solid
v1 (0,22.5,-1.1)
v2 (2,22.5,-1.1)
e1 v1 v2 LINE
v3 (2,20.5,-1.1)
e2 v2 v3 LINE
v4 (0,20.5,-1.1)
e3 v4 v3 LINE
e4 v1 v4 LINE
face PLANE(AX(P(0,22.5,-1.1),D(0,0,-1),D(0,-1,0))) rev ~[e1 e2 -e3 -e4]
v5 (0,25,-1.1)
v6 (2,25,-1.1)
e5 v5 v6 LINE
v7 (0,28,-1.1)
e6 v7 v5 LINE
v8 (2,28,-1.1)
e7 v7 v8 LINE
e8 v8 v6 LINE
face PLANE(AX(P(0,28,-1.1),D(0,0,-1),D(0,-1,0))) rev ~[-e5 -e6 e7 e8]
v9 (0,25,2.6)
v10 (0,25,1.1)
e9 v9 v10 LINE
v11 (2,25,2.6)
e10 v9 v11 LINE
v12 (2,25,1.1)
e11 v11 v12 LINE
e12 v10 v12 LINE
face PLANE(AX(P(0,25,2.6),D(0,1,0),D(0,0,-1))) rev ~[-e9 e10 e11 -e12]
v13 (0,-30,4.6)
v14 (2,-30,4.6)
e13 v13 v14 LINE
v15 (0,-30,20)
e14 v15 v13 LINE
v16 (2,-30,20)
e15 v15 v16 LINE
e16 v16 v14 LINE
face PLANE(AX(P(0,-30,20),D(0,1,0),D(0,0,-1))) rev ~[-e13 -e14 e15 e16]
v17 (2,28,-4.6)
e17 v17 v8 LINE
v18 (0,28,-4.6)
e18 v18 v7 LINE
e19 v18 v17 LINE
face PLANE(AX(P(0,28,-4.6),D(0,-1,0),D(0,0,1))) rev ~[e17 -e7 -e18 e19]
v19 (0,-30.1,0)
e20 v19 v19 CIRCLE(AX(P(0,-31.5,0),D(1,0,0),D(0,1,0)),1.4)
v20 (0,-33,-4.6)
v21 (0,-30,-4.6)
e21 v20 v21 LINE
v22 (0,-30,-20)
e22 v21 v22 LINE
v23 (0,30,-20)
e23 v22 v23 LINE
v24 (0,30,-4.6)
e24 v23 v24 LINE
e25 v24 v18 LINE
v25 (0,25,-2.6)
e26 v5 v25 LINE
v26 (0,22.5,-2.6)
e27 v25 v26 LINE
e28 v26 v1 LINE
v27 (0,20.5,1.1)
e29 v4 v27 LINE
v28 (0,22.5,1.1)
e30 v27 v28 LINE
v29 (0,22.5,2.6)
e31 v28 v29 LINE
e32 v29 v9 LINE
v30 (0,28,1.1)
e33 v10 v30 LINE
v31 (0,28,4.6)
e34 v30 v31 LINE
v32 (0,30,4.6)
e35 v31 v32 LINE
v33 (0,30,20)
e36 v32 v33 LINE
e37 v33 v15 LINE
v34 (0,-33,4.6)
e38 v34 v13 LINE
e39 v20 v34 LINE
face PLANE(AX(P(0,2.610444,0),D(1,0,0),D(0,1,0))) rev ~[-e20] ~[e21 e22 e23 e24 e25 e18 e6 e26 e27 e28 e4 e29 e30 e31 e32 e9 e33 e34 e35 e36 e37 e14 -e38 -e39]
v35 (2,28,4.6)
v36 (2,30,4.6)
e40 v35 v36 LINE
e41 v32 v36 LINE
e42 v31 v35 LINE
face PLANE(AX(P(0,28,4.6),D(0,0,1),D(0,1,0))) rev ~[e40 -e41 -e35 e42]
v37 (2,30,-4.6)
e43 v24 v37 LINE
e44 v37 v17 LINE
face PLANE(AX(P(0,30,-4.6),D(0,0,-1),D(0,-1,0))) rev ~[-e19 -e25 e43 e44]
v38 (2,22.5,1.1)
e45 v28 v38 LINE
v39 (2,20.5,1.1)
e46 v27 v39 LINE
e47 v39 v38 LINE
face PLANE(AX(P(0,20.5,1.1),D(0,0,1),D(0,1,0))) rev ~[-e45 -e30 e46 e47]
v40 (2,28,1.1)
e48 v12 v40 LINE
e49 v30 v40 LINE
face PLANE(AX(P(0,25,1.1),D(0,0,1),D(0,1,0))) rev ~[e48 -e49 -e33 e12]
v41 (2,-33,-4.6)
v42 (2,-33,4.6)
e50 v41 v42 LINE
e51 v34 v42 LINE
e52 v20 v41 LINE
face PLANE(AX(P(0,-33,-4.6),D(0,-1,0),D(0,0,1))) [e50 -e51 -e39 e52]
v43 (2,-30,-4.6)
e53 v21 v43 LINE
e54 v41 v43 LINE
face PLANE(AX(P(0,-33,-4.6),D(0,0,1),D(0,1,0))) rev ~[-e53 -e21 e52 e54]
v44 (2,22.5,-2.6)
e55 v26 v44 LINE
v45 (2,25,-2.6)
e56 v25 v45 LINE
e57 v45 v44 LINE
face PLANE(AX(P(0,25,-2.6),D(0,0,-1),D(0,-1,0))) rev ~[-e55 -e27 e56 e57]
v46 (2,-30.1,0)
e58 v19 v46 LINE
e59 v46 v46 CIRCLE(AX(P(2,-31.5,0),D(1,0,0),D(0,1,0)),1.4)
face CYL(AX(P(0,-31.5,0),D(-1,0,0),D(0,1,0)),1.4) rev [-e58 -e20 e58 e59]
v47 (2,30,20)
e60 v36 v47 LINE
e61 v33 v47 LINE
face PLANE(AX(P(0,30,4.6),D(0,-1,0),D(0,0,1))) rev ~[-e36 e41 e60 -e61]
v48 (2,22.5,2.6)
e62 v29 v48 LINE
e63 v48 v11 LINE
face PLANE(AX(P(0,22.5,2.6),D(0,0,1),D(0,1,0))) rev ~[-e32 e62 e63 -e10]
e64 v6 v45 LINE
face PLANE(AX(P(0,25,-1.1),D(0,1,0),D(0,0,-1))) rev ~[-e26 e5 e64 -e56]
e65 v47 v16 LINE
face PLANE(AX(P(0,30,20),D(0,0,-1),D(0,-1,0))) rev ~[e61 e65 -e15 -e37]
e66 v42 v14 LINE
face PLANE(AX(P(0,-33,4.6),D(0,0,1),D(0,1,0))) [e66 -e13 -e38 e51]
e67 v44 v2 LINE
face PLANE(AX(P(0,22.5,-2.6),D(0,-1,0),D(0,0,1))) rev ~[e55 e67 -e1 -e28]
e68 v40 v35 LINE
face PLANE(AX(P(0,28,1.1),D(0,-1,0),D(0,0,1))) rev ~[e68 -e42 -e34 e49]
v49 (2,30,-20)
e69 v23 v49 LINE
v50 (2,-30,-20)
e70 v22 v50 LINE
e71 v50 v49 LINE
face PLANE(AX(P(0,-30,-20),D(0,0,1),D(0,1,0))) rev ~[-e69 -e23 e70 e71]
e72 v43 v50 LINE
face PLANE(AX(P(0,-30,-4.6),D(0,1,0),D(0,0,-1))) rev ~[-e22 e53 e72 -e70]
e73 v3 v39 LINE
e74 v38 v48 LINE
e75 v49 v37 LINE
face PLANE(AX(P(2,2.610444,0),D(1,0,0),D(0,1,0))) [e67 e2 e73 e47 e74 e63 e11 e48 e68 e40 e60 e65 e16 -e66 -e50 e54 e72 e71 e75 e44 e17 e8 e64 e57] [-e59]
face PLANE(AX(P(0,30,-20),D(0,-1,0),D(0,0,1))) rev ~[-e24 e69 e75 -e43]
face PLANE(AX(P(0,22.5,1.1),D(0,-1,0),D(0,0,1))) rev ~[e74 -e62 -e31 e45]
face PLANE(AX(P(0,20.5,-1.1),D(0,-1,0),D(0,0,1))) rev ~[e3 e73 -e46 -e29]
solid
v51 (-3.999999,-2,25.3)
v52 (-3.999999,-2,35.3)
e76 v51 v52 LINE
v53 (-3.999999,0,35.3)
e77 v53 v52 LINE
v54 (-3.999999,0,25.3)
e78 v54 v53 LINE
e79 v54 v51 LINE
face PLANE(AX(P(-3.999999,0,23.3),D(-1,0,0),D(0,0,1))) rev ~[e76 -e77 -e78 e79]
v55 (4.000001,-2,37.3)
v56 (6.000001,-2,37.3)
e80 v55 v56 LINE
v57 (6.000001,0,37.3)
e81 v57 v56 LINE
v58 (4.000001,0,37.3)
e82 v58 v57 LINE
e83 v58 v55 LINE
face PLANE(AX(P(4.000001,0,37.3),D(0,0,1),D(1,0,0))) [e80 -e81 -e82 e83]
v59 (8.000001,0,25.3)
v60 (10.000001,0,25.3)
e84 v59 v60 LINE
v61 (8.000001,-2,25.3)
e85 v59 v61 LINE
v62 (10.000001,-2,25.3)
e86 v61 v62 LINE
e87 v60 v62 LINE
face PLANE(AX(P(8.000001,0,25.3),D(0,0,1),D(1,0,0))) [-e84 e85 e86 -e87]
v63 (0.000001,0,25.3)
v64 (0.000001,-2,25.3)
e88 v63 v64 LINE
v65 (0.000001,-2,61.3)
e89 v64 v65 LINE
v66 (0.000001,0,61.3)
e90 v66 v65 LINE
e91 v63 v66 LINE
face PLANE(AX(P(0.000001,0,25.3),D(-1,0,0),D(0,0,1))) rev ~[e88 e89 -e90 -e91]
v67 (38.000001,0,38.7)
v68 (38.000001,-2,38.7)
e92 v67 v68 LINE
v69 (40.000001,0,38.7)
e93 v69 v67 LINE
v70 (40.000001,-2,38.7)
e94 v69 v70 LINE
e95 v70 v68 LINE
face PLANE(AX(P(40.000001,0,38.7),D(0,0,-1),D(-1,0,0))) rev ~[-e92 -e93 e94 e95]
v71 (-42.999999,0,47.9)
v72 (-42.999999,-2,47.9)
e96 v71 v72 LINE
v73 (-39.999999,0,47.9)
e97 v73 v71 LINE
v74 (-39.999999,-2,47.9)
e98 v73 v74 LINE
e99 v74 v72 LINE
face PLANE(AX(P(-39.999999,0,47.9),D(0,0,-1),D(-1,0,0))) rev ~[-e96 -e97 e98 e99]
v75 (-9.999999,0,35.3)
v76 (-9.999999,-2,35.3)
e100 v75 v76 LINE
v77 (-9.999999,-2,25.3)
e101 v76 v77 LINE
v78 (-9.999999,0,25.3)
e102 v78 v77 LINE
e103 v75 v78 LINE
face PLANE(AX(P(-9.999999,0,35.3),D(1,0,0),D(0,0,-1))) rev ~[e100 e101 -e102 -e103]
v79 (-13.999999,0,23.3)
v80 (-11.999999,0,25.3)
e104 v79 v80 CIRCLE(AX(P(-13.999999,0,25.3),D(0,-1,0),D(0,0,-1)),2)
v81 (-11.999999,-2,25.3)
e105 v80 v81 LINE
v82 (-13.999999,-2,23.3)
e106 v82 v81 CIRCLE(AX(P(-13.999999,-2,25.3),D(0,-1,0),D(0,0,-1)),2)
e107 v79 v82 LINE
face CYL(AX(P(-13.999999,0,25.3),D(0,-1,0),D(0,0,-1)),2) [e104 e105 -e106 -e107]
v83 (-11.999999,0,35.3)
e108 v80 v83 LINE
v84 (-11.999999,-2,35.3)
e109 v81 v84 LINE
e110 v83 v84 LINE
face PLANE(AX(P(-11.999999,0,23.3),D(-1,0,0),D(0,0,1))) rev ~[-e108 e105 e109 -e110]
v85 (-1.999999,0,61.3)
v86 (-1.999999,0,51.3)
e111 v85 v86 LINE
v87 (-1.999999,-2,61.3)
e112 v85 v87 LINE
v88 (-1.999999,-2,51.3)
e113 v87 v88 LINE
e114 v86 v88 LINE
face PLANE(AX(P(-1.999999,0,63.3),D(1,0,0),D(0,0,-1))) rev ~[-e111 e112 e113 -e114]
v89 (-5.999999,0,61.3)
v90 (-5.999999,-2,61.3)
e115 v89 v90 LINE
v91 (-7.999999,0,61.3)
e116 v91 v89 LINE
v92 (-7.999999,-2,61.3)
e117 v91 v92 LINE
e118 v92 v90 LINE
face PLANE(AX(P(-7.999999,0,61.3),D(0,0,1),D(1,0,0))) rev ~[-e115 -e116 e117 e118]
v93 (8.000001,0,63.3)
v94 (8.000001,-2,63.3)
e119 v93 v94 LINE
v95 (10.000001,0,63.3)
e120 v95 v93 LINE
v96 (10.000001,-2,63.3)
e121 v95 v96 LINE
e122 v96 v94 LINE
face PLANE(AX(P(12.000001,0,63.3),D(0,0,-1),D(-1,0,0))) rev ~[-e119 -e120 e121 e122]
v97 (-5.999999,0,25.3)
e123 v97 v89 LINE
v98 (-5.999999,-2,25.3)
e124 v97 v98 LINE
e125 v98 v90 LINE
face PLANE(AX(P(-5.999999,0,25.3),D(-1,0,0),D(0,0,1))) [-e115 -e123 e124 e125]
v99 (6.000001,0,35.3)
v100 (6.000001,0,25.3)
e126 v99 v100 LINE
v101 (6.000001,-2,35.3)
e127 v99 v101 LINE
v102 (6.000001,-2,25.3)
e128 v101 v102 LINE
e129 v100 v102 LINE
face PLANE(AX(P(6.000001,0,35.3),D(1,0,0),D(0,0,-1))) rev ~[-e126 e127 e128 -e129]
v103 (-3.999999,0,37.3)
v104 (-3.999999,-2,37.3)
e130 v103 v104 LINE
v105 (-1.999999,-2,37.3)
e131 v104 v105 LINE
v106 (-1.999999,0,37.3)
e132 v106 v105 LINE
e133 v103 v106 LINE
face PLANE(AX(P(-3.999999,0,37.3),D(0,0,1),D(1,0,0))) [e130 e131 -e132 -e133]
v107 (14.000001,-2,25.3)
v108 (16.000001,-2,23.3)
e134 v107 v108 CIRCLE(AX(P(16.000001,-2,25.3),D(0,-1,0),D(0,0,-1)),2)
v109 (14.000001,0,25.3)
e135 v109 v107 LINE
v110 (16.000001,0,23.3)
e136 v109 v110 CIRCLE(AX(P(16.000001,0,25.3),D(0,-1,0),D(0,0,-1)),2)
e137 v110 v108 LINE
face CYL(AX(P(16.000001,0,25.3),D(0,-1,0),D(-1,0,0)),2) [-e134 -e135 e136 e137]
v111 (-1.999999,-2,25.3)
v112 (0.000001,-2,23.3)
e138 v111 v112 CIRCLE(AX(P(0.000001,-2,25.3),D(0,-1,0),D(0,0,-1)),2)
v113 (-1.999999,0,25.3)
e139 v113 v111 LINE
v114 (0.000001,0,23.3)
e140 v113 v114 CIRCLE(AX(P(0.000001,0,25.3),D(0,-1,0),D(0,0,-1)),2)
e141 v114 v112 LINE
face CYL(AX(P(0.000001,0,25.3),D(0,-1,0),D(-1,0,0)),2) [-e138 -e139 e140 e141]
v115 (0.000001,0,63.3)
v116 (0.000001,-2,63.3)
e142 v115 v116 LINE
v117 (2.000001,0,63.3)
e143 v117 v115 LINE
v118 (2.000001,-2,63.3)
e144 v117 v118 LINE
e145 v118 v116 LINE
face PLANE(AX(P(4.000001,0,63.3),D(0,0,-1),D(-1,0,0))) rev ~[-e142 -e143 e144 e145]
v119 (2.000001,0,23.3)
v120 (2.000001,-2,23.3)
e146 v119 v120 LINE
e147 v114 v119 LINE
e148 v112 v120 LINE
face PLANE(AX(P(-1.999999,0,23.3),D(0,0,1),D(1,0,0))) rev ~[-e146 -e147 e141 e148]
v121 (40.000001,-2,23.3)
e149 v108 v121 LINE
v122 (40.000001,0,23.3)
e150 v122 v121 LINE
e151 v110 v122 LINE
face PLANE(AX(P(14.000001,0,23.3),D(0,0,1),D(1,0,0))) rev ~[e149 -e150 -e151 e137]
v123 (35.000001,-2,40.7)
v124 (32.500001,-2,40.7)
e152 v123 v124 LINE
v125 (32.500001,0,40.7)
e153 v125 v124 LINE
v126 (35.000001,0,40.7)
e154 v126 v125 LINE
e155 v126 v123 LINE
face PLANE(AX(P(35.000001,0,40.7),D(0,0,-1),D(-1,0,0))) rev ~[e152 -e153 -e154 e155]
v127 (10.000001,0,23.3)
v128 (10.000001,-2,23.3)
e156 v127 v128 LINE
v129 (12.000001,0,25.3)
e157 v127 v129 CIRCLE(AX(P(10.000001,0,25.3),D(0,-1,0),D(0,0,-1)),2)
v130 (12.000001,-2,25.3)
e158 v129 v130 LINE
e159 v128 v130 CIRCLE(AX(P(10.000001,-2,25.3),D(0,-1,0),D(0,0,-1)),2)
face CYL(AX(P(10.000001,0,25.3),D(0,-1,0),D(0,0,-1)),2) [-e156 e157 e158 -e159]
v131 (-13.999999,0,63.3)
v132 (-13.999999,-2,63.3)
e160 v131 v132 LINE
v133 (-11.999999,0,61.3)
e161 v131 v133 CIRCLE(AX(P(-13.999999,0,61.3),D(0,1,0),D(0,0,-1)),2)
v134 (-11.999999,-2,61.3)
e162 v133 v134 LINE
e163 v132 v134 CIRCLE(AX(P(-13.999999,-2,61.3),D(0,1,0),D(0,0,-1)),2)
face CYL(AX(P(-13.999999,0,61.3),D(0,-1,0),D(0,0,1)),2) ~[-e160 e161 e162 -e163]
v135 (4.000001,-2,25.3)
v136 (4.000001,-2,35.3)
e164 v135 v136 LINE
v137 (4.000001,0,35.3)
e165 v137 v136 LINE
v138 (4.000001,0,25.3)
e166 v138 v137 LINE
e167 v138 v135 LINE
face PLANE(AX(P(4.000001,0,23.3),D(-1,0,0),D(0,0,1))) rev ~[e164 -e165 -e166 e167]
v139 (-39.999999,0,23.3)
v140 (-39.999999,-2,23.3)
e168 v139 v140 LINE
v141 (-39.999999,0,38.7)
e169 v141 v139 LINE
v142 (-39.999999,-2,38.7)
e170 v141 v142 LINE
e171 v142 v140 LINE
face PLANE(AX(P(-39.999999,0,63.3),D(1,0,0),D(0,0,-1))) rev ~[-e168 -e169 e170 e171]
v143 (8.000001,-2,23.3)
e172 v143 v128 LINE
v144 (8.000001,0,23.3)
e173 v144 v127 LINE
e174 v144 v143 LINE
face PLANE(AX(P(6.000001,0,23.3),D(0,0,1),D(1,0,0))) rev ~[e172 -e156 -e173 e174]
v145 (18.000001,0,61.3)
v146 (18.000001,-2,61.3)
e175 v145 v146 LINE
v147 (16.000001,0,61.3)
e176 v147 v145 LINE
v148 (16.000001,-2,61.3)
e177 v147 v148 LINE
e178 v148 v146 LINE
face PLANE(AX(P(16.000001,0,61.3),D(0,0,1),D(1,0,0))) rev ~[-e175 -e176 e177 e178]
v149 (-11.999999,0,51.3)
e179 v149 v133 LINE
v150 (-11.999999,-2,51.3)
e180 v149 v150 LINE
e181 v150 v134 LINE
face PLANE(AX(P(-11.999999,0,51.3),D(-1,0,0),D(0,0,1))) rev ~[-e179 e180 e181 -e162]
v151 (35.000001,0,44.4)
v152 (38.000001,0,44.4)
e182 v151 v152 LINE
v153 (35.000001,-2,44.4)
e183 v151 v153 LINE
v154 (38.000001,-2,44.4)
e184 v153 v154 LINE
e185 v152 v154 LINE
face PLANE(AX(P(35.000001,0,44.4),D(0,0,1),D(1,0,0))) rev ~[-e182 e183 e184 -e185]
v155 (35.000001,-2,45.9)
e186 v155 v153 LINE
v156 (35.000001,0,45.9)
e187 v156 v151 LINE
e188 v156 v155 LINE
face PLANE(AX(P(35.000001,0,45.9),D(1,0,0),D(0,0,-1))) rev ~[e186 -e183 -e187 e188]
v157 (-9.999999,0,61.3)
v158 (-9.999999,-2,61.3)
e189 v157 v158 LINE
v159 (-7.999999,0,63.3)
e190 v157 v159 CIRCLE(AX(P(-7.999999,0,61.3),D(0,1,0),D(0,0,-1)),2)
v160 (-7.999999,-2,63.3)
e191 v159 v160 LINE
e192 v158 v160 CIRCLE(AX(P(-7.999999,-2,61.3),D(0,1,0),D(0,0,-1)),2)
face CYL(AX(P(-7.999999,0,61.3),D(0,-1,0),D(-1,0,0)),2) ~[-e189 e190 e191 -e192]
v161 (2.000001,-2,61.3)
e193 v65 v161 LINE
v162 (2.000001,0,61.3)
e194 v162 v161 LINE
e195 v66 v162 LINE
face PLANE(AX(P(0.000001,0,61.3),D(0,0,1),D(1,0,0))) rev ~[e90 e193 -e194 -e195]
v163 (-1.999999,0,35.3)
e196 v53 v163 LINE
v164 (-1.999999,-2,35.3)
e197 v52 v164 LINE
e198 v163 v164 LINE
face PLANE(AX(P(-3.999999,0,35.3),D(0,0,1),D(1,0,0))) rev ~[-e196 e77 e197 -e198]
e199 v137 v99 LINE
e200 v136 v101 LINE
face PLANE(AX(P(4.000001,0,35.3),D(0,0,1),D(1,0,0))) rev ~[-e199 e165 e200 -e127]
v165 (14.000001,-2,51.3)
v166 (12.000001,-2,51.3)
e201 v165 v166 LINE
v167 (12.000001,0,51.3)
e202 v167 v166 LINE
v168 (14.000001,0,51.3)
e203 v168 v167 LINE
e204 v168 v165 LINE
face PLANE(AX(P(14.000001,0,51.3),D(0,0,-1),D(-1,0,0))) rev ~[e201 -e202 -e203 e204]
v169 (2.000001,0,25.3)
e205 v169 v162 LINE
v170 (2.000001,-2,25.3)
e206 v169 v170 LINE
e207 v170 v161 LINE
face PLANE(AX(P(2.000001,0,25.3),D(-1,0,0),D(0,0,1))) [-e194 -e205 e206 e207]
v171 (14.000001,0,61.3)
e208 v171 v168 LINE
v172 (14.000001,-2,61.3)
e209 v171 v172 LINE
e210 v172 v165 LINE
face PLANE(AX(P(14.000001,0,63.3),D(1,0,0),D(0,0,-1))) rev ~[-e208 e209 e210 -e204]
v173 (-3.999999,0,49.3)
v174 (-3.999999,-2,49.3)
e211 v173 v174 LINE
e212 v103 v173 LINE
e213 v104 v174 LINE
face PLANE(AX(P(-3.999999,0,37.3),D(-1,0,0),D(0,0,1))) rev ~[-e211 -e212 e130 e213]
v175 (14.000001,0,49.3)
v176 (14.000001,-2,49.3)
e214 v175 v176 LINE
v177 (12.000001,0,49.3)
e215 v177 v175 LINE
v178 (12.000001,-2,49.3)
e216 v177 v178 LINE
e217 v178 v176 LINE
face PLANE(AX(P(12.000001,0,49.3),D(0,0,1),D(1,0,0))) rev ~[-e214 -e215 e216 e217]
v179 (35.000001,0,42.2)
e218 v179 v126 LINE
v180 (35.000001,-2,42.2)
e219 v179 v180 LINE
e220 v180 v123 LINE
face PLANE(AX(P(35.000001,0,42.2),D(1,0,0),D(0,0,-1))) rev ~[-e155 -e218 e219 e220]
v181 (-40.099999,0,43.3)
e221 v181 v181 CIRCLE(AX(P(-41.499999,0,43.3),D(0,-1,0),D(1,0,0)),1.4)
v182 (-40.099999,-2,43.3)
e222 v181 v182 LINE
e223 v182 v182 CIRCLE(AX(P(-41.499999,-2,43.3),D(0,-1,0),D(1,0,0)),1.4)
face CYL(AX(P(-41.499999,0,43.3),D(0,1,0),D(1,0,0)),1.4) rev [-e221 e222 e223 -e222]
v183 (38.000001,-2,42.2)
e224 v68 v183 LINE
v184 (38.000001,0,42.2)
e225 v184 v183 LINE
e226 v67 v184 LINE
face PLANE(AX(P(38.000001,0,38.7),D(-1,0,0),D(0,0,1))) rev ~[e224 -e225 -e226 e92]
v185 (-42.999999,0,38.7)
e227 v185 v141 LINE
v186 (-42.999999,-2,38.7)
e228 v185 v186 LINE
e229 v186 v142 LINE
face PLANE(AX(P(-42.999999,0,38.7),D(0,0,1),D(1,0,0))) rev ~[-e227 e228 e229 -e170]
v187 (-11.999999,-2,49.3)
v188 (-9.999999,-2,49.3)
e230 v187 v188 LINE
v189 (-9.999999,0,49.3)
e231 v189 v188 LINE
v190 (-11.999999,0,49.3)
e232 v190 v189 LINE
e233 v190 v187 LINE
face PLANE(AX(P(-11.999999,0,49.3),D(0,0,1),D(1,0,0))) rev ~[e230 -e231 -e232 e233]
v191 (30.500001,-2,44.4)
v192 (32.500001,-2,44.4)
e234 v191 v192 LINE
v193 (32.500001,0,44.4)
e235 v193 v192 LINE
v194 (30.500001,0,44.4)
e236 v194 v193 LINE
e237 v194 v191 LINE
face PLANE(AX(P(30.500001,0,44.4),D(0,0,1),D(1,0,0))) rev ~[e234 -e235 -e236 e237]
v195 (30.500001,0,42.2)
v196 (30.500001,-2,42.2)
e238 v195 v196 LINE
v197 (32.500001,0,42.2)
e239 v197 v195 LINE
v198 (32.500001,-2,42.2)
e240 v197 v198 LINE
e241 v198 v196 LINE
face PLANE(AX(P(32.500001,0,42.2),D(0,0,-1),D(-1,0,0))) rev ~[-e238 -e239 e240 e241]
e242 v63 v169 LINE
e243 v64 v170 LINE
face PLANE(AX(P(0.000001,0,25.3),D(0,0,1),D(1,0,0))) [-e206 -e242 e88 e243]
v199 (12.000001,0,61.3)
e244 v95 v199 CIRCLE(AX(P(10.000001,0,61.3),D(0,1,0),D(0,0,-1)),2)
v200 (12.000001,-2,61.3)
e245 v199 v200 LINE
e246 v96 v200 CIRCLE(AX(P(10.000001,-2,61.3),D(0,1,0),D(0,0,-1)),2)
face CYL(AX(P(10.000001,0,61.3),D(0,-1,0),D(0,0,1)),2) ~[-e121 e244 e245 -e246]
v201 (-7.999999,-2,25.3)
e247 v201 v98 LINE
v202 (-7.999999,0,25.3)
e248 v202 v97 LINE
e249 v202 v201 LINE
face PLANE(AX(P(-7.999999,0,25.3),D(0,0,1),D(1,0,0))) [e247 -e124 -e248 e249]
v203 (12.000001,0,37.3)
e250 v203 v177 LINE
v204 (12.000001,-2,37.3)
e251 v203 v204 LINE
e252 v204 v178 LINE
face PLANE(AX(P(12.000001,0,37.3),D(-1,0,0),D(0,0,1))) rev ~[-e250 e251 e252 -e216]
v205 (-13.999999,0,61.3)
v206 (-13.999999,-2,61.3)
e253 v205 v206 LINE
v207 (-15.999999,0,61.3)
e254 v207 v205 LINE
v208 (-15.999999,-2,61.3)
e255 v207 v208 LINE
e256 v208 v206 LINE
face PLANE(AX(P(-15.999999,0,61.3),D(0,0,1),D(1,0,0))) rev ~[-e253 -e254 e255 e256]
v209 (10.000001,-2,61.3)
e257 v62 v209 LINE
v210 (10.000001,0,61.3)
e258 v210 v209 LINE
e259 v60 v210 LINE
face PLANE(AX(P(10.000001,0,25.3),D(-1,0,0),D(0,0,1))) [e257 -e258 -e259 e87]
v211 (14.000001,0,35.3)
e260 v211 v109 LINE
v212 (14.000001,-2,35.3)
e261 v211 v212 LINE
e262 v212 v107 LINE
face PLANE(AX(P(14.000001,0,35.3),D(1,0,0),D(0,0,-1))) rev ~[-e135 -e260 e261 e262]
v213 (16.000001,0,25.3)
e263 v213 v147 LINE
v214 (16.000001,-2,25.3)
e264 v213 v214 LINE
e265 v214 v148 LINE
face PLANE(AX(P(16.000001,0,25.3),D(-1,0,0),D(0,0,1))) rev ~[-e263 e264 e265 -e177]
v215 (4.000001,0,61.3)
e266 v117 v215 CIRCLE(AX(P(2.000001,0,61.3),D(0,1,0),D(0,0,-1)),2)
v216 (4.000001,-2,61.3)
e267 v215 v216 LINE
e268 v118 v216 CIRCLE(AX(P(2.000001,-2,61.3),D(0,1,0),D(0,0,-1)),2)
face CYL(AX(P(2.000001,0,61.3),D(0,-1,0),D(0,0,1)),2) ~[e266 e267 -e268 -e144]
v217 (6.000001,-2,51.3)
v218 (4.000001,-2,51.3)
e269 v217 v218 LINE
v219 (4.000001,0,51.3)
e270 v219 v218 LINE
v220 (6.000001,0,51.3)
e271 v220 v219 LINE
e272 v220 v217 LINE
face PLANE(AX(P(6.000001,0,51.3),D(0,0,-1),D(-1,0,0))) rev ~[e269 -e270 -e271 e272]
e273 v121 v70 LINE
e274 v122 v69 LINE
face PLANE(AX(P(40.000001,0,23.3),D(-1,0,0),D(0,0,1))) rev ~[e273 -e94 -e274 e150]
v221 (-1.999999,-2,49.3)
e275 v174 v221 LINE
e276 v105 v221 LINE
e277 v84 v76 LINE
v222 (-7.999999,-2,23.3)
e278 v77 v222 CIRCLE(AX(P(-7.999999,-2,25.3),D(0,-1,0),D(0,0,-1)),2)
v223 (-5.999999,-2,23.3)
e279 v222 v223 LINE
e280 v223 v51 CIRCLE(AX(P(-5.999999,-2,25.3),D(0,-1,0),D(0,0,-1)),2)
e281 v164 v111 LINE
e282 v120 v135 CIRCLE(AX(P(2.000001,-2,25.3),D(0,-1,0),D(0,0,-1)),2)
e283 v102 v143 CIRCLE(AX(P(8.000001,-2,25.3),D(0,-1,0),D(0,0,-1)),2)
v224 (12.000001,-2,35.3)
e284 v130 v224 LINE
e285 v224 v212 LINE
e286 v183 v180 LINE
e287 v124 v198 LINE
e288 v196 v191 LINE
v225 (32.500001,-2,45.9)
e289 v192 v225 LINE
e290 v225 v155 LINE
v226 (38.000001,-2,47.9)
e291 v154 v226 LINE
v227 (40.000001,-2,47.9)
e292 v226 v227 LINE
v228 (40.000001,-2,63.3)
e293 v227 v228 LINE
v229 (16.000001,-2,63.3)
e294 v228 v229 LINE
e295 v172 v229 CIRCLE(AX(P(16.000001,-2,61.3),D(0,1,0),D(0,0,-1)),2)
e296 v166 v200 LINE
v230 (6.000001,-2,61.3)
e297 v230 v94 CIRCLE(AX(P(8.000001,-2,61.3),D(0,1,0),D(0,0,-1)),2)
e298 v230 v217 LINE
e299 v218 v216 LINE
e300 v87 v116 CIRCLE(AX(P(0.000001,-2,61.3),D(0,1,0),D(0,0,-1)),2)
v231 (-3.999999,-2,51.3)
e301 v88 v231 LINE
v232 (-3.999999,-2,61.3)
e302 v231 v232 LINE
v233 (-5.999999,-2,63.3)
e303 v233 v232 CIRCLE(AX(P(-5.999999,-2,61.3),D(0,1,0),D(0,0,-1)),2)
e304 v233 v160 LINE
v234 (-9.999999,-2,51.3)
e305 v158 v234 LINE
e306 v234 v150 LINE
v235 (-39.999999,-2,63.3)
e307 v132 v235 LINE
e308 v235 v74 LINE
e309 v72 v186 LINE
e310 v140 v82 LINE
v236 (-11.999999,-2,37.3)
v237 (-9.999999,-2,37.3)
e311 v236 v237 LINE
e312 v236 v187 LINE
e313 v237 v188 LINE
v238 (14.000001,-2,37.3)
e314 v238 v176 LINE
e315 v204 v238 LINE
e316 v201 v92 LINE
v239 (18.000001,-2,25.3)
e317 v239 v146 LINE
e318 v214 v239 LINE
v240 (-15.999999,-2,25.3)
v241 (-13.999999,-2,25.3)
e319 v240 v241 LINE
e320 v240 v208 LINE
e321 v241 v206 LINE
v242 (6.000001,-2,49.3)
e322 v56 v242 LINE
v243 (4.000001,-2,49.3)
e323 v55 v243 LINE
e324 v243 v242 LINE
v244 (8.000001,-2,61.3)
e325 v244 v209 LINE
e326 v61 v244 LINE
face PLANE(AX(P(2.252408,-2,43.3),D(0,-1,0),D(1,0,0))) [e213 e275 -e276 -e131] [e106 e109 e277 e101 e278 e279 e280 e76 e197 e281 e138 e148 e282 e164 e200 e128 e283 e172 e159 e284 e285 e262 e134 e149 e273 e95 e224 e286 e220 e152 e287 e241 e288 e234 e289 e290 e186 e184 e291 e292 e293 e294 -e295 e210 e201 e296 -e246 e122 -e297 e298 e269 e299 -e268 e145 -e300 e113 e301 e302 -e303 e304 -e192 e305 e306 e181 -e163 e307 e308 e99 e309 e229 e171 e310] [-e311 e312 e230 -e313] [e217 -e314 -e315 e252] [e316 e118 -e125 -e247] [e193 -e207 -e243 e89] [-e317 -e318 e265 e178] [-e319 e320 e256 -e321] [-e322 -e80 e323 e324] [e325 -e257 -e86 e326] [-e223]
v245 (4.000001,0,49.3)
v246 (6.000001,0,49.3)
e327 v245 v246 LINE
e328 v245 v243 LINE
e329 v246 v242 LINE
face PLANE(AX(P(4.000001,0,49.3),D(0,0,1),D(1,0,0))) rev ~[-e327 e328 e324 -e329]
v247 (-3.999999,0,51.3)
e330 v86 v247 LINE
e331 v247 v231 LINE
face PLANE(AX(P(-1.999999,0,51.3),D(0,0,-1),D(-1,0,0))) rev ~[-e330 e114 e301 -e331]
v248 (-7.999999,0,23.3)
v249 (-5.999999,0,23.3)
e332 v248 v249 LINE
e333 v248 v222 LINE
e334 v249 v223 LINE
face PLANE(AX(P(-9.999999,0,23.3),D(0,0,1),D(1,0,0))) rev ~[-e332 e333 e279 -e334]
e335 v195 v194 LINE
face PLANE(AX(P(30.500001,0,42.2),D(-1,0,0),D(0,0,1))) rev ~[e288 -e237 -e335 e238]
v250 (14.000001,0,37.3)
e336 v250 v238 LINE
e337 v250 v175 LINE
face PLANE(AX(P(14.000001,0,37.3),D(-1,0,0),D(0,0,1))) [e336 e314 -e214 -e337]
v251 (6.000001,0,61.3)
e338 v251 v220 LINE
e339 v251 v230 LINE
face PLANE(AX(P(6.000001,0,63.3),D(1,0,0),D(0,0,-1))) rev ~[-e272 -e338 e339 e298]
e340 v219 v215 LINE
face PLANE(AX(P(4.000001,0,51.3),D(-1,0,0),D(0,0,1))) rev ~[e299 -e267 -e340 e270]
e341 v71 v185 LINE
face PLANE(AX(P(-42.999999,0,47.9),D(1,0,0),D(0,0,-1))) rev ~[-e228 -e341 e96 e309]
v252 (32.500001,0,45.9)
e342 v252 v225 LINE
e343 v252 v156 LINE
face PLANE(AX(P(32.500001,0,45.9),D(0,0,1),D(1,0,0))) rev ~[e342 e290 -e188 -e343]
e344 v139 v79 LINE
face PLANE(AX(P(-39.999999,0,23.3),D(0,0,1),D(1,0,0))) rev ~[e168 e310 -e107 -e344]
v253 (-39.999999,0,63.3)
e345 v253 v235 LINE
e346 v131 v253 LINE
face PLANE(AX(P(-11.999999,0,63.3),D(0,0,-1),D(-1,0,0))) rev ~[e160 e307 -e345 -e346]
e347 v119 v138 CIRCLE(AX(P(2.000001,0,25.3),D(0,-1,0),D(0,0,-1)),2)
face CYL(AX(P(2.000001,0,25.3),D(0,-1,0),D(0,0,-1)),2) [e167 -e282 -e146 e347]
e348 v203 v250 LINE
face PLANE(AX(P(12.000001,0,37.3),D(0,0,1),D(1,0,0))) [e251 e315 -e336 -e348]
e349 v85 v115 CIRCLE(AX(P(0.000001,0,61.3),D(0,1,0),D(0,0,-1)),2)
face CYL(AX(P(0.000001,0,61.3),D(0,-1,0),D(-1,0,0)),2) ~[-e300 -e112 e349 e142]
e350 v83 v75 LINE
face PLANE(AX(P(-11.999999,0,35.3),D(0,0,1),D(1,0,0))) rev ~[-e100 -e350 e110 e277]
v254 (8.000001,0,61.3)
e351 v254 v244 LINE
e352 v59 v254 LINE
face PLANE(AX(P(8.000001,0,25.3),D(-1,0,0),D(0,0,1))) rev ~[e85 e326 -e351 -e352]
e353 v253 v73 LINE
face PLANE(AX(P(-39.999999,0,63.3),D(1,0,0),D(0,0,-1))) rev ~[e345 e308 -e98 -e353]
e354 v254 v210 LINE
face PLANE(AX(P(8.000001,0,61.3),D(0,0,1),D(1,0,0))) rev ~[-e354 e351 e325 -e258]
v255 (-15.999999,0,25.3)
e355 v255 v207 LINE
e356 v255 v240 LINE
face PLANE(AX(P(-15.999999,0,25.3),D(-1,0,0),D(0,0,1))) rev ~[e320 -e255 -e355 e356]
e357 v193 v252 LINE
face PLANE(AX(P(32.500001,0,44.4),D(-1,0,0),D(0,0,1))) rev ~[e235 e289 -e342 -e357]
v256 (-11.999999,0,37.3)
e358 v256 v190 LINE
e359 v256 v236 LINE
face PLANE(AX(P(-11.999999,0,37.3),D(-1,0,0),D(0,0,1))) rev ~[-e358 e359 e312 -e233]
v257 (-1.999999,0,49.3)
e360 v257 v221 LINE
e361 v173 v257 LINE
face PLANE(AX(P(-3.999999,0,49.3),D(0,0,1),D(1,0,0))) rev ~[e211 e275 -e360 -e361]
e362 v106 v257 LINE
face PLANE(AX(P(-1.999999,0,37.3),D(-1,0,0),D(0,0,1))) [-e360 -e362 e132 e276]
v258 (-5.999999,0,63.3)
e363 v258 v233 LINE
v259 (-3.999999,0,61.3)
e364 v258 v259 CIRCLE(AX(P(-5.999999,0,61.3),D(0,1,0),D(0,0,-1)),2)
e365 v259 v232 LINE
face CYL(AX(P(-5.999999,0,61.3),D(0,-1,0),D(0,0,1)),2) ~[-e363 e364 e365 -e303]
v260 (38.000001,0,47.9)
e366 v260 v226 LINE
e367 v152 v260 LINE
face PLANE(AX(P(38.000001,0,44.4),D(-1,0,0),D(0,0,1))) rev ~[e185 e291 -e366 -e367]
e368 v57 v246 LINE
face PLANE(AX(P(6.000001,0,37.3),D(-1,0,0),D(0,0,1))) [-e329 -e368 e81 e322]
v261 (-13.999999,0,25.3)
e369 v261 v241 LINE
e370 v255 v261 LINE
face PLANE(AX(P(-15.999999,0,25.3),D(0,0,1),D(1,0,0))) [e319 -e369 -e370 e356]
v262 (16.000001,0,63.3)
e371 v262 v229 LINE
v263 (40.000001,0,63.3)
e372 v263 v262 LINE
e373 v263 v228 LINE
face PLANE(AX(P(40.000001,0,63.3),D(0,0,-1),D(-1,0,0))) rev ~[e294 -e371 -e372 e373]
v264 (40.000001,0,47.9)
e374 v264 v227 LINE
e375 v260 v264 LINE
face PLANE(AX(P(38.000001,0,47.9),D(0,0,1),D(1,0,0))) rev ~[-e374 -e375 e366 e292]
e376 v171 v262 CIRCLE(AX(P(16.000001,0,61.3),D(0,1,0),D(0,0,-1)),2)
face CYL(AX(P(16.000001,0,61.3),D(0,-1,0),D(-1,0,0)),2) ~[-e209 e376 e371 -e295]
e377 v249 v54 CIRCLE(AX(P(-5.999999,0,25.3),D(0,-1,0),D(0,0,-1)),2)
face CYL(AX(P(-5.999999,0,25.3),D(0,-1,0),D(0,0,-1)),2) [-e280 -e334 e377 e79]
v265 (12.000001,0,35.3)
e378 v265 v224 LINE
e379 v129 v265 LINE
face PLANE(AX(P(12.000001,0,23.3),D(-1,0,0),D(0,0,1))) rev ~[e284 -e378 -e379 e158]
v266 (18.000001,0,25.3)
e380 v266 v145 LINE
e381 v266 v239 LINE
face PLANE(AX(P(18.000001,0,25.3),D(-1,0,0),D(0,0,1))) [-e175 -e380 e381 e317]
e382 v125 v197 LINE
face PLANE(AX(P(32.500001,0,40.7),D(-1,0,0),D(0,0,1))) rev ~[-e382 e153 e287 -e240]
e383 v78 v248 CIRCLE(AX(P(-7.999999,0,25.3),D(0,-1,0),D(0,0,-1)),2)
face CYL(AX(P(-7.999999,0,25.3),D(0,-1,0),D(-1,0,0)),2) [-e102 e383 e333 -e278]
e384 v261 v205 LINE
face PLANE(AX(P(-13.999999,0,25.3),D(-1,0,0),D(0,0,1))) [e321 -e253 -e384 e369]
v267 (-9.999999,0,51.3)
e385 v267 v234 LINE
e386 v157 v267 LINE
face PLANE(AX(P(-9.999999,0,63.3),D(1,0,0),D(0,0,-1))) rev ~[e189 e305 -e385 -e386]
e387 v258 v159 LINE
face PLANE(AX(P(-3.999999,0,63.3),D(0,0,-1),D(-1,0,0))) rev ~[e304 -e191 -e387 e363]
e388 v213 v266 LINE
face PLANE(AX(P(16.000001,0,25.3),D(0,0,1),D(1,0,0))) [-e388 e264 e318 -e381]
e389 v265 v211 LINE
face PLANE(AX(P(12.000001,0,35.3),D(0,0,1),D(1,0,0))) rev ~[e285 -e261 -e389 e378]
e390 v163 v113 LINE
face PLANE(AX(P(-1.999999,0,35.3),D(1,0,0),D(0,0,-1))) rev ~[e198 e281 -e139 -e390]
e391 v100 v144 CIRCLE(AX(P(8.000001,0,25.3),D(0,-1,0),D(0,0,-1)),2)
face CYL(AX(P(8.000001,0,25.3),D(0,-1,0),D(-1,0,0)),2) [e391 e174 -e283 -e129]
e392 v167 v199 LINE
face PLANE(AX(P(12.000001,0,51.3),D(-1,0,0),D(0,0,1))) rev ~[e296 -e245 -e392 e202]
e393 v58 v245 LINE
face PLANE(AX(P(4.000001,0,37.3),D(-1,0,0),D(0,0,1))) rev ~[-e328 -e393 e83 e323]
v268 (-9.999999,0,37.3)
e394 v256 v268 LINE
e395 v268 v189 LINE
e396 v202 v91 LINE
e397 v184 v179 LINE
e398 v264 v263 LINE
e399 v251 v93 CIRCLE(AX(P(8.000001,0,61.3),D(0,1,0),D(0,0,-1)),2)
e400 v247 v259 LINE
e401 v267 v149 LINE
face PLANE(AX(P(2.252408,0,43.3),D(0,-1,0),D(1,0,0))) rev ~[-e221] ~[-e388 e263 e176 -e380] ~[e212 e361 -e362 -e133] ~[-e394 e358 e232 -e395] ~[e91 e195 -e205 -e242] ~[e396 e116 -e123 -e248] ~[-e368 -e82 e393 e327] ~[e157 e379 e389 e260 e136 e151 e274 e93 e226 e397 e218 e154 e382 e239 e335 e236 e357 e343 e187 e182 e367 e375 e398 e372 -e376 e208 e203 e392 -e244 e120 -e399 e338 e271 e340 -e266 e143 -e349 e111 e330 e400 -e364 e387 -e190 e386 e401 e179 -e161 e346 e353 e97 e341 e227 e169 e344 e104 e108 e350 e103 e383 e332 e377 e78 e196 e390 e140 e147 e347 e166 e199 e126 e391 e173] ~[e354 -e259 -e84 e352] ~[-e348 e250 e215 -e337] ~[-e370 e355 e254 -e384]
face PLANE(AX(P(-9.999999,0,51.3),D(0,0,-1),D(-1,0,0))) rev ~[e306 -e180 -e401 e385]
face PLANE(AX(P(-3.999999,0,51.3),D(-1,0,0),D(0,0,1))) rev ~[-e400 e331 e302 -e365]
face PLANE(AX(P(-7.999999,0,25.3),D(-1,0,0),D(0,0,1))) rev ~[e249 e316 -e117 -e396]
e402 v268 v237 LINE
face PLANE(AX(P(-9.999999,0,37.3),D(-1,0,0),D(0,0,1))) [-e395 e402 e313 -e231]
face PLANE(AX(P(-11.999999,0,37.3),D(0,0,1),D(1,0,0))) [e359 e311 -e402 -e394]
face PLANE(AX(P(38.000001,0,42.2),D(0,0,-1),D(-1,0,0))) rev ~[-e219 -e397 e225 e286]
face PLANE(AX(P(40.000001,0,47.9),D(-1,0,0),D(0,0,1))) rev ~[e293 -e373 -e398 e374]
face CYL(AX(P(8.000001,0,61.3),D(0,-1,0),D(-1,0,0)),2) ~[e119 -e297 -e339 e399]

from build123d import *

# Parameters (mm, degrees)
F0_W     = 2
F0_H     = 36
F0_H_2   = 12
F1_DEPTH = 2
F2_W     = 3
F2_H     = 9.2
F2_R     = 1.4
F3_DEPTH = 2
F0_R     = 1.4
F4_DEPTH = 2
F5_R     = 2


with BuildPart() as f1:
    # F0 (on Front) → F1 (new body)
    with BuildSketch(Plane.XZ):
        Polygon((-11.999999, 63.3), (-39.999999, 63.3), (-39.999999, 47.9), (-39.999999, 44.8), (-39.999999, 41.8), (-39.999999, 38.7), (-39.999999, 23.3), (-11.999999, 23.3), (-11.999999, 35.3), (-9.999999, 35.3), (-9.999999, 23.3), (-3.999999, 23.3), (-3.999999, 35.3), (-1.999999, 35.3), (-1.999999, 23.3), (4.000001, 23.3), (4.000001, 35.3), (6.000001, 35.3), (6.000001, 23.3), (12.000001, 23.3), (12.000001, 35.3), (14.000001, 35.3), (14.000001, 23.3), (40.000001, 23.3), (40.000001, 38.7), (38.000001, 38.7), (38.000001, 42.2), (35.000001, 42.2), (35.000001, 40.7), (32.500001, 40.7), (32.500001, 42.2), (30.500001, 42.2), (30.500001, 43.3), (30.500001, 44.4), (32.500001, 44.4), (32.500001, 45.9), (35.000001, 45.9), (35.000001, 44.4), (38.000001, 44.4), (38.000001, 47.9), (40.000001, 47.9), (40.000001, 63.3), (14.000001, 63.3), (14.000001, 51.3), (12.000001, 51.3), (12.000001, 63.3), (6.000001, 63.3), (6.000001, 51.3), (4.000001, 51.3), (4.000001, 63.3), (-1.999999, 63.3), (-1.999999, 51.3), (-3.999999, 51.3), (-3.999999, 63.3), (-9.999999, 63.3), (-9.999999, 51.3), (-11.999999, 51.3), align=None)
        with Locations((-14.999999, 43.3)):
            Rectangle(F0_W, F0_H, mode=Mode.SUBTRACT)
        with Locations((-10.999999, 43.3)):
            Rectangle(F0_W, F0_H_2, mode=Mode.SUBTRACT)
        with Locations((-6.999999, 43.3)):
            Rectangle(F0_W, F0_H, mode=Mode.SUBTRACT)
        with Locations((-2.999999, 43.3)):
            Rectangle(F0_W, F0_H_2, mode=Mode.SUBTRACT)
        with Locations((1.000001, 43.3)):
            Rectangle(F0_W, F0_H, mode=Mode.SUBTRACT)
        with Locations((5.000001, 43.3)):
            Rectangle(F0_W, F0_H_2, mode=Mode.SUBTRACT)
        with Locations((9.000001, 43.3)):
            Rectangle(F0_W, F0_H, mode=Mode.SUBTRACT)
        with Locations((13.000001, 43.3)):
            Rectangle(F0_W, F0_H_2, mode=Mode.SUBTRACT)
        with Locations((17.000001, 43.3)):
            Rectangle(F0_W, F0_H, mode=Mode.SUBTRACT)
    extrude(amount=F1_DEPTH)

    # F0 (on Front) → F4 (join)
    with BuildSketch(Plane.XZ):
        Polygon((-39.999999, 44.8), (-39.999999, 47.9), (-42.999999, 47.9), (-42.999999, 38.7), (-39.999999, 38.7), (-39.999999, 41.8), align=None)
        with Locations((-41.499999, 43.3)):
            Circle(F0_R, mode=Mode.SUBTRACT)
    extrude(amount=F4_DEPTH)

    # F5
    f5_edges = [f1.edges().sort_by_distance(p)[0] for p in [
        (-9.999999, -1, 23.3),
        (-3.999999, -1, 23.3),
        (-1.999999, -1, 23.3),
        (4.000001, -1, 23.3),
        (6.000001, -1, 23.3),
        (12.000001, -1, 23.3),
        (14.000001, -1, 23.3),
        (-11.999999, -1, 23.3),
        (-11.999999, -1, 63.3),
        (-9.999999, -1, 63.3),
        (-3.999999, -1, 63.3),
        (-1.999999, -1, 63.3),
        (4.000001, -1, 63.3),
        (6.000001, -1, 63.3),
        (12.000001, -1, 63.3),
        (14.000001, -1, 63.3),
    ]]
    fillet(f5_edges, radius=F5_R)


with BuildPart() as f3:
    # F2 (on Right) → F3 (new body)
    with BuildSketch(Plane.YZ):
        Polygon((-30, -20), (30, -20), (30, -4.6), (28, -4.6), (28, -1.1), (25, -1.1), (25, -2.6), (22.5, -2.6), (22.5, -1.1), (20.5, -1.1), (20.5, 1.1), (22.5, 1.1), (22.5, 2.6), (25, 2.6), (25, 1.1), (28, 1.1), (28, 4.6), (30, 4.6), (30, 20), (-30, 20), (-30, 4.6), (-30, -4.6), align=None)
        with Locations((-31.5, 0)):
            Rectangle(F2_W, F2_H)
        with Locations((-31.5, 0)):
            Circle(F2_R, mode=Mode.SUBTRACT)
    extrude(amount=F3_DEPTH)


solid = Compound([f1.part, f3.part])
